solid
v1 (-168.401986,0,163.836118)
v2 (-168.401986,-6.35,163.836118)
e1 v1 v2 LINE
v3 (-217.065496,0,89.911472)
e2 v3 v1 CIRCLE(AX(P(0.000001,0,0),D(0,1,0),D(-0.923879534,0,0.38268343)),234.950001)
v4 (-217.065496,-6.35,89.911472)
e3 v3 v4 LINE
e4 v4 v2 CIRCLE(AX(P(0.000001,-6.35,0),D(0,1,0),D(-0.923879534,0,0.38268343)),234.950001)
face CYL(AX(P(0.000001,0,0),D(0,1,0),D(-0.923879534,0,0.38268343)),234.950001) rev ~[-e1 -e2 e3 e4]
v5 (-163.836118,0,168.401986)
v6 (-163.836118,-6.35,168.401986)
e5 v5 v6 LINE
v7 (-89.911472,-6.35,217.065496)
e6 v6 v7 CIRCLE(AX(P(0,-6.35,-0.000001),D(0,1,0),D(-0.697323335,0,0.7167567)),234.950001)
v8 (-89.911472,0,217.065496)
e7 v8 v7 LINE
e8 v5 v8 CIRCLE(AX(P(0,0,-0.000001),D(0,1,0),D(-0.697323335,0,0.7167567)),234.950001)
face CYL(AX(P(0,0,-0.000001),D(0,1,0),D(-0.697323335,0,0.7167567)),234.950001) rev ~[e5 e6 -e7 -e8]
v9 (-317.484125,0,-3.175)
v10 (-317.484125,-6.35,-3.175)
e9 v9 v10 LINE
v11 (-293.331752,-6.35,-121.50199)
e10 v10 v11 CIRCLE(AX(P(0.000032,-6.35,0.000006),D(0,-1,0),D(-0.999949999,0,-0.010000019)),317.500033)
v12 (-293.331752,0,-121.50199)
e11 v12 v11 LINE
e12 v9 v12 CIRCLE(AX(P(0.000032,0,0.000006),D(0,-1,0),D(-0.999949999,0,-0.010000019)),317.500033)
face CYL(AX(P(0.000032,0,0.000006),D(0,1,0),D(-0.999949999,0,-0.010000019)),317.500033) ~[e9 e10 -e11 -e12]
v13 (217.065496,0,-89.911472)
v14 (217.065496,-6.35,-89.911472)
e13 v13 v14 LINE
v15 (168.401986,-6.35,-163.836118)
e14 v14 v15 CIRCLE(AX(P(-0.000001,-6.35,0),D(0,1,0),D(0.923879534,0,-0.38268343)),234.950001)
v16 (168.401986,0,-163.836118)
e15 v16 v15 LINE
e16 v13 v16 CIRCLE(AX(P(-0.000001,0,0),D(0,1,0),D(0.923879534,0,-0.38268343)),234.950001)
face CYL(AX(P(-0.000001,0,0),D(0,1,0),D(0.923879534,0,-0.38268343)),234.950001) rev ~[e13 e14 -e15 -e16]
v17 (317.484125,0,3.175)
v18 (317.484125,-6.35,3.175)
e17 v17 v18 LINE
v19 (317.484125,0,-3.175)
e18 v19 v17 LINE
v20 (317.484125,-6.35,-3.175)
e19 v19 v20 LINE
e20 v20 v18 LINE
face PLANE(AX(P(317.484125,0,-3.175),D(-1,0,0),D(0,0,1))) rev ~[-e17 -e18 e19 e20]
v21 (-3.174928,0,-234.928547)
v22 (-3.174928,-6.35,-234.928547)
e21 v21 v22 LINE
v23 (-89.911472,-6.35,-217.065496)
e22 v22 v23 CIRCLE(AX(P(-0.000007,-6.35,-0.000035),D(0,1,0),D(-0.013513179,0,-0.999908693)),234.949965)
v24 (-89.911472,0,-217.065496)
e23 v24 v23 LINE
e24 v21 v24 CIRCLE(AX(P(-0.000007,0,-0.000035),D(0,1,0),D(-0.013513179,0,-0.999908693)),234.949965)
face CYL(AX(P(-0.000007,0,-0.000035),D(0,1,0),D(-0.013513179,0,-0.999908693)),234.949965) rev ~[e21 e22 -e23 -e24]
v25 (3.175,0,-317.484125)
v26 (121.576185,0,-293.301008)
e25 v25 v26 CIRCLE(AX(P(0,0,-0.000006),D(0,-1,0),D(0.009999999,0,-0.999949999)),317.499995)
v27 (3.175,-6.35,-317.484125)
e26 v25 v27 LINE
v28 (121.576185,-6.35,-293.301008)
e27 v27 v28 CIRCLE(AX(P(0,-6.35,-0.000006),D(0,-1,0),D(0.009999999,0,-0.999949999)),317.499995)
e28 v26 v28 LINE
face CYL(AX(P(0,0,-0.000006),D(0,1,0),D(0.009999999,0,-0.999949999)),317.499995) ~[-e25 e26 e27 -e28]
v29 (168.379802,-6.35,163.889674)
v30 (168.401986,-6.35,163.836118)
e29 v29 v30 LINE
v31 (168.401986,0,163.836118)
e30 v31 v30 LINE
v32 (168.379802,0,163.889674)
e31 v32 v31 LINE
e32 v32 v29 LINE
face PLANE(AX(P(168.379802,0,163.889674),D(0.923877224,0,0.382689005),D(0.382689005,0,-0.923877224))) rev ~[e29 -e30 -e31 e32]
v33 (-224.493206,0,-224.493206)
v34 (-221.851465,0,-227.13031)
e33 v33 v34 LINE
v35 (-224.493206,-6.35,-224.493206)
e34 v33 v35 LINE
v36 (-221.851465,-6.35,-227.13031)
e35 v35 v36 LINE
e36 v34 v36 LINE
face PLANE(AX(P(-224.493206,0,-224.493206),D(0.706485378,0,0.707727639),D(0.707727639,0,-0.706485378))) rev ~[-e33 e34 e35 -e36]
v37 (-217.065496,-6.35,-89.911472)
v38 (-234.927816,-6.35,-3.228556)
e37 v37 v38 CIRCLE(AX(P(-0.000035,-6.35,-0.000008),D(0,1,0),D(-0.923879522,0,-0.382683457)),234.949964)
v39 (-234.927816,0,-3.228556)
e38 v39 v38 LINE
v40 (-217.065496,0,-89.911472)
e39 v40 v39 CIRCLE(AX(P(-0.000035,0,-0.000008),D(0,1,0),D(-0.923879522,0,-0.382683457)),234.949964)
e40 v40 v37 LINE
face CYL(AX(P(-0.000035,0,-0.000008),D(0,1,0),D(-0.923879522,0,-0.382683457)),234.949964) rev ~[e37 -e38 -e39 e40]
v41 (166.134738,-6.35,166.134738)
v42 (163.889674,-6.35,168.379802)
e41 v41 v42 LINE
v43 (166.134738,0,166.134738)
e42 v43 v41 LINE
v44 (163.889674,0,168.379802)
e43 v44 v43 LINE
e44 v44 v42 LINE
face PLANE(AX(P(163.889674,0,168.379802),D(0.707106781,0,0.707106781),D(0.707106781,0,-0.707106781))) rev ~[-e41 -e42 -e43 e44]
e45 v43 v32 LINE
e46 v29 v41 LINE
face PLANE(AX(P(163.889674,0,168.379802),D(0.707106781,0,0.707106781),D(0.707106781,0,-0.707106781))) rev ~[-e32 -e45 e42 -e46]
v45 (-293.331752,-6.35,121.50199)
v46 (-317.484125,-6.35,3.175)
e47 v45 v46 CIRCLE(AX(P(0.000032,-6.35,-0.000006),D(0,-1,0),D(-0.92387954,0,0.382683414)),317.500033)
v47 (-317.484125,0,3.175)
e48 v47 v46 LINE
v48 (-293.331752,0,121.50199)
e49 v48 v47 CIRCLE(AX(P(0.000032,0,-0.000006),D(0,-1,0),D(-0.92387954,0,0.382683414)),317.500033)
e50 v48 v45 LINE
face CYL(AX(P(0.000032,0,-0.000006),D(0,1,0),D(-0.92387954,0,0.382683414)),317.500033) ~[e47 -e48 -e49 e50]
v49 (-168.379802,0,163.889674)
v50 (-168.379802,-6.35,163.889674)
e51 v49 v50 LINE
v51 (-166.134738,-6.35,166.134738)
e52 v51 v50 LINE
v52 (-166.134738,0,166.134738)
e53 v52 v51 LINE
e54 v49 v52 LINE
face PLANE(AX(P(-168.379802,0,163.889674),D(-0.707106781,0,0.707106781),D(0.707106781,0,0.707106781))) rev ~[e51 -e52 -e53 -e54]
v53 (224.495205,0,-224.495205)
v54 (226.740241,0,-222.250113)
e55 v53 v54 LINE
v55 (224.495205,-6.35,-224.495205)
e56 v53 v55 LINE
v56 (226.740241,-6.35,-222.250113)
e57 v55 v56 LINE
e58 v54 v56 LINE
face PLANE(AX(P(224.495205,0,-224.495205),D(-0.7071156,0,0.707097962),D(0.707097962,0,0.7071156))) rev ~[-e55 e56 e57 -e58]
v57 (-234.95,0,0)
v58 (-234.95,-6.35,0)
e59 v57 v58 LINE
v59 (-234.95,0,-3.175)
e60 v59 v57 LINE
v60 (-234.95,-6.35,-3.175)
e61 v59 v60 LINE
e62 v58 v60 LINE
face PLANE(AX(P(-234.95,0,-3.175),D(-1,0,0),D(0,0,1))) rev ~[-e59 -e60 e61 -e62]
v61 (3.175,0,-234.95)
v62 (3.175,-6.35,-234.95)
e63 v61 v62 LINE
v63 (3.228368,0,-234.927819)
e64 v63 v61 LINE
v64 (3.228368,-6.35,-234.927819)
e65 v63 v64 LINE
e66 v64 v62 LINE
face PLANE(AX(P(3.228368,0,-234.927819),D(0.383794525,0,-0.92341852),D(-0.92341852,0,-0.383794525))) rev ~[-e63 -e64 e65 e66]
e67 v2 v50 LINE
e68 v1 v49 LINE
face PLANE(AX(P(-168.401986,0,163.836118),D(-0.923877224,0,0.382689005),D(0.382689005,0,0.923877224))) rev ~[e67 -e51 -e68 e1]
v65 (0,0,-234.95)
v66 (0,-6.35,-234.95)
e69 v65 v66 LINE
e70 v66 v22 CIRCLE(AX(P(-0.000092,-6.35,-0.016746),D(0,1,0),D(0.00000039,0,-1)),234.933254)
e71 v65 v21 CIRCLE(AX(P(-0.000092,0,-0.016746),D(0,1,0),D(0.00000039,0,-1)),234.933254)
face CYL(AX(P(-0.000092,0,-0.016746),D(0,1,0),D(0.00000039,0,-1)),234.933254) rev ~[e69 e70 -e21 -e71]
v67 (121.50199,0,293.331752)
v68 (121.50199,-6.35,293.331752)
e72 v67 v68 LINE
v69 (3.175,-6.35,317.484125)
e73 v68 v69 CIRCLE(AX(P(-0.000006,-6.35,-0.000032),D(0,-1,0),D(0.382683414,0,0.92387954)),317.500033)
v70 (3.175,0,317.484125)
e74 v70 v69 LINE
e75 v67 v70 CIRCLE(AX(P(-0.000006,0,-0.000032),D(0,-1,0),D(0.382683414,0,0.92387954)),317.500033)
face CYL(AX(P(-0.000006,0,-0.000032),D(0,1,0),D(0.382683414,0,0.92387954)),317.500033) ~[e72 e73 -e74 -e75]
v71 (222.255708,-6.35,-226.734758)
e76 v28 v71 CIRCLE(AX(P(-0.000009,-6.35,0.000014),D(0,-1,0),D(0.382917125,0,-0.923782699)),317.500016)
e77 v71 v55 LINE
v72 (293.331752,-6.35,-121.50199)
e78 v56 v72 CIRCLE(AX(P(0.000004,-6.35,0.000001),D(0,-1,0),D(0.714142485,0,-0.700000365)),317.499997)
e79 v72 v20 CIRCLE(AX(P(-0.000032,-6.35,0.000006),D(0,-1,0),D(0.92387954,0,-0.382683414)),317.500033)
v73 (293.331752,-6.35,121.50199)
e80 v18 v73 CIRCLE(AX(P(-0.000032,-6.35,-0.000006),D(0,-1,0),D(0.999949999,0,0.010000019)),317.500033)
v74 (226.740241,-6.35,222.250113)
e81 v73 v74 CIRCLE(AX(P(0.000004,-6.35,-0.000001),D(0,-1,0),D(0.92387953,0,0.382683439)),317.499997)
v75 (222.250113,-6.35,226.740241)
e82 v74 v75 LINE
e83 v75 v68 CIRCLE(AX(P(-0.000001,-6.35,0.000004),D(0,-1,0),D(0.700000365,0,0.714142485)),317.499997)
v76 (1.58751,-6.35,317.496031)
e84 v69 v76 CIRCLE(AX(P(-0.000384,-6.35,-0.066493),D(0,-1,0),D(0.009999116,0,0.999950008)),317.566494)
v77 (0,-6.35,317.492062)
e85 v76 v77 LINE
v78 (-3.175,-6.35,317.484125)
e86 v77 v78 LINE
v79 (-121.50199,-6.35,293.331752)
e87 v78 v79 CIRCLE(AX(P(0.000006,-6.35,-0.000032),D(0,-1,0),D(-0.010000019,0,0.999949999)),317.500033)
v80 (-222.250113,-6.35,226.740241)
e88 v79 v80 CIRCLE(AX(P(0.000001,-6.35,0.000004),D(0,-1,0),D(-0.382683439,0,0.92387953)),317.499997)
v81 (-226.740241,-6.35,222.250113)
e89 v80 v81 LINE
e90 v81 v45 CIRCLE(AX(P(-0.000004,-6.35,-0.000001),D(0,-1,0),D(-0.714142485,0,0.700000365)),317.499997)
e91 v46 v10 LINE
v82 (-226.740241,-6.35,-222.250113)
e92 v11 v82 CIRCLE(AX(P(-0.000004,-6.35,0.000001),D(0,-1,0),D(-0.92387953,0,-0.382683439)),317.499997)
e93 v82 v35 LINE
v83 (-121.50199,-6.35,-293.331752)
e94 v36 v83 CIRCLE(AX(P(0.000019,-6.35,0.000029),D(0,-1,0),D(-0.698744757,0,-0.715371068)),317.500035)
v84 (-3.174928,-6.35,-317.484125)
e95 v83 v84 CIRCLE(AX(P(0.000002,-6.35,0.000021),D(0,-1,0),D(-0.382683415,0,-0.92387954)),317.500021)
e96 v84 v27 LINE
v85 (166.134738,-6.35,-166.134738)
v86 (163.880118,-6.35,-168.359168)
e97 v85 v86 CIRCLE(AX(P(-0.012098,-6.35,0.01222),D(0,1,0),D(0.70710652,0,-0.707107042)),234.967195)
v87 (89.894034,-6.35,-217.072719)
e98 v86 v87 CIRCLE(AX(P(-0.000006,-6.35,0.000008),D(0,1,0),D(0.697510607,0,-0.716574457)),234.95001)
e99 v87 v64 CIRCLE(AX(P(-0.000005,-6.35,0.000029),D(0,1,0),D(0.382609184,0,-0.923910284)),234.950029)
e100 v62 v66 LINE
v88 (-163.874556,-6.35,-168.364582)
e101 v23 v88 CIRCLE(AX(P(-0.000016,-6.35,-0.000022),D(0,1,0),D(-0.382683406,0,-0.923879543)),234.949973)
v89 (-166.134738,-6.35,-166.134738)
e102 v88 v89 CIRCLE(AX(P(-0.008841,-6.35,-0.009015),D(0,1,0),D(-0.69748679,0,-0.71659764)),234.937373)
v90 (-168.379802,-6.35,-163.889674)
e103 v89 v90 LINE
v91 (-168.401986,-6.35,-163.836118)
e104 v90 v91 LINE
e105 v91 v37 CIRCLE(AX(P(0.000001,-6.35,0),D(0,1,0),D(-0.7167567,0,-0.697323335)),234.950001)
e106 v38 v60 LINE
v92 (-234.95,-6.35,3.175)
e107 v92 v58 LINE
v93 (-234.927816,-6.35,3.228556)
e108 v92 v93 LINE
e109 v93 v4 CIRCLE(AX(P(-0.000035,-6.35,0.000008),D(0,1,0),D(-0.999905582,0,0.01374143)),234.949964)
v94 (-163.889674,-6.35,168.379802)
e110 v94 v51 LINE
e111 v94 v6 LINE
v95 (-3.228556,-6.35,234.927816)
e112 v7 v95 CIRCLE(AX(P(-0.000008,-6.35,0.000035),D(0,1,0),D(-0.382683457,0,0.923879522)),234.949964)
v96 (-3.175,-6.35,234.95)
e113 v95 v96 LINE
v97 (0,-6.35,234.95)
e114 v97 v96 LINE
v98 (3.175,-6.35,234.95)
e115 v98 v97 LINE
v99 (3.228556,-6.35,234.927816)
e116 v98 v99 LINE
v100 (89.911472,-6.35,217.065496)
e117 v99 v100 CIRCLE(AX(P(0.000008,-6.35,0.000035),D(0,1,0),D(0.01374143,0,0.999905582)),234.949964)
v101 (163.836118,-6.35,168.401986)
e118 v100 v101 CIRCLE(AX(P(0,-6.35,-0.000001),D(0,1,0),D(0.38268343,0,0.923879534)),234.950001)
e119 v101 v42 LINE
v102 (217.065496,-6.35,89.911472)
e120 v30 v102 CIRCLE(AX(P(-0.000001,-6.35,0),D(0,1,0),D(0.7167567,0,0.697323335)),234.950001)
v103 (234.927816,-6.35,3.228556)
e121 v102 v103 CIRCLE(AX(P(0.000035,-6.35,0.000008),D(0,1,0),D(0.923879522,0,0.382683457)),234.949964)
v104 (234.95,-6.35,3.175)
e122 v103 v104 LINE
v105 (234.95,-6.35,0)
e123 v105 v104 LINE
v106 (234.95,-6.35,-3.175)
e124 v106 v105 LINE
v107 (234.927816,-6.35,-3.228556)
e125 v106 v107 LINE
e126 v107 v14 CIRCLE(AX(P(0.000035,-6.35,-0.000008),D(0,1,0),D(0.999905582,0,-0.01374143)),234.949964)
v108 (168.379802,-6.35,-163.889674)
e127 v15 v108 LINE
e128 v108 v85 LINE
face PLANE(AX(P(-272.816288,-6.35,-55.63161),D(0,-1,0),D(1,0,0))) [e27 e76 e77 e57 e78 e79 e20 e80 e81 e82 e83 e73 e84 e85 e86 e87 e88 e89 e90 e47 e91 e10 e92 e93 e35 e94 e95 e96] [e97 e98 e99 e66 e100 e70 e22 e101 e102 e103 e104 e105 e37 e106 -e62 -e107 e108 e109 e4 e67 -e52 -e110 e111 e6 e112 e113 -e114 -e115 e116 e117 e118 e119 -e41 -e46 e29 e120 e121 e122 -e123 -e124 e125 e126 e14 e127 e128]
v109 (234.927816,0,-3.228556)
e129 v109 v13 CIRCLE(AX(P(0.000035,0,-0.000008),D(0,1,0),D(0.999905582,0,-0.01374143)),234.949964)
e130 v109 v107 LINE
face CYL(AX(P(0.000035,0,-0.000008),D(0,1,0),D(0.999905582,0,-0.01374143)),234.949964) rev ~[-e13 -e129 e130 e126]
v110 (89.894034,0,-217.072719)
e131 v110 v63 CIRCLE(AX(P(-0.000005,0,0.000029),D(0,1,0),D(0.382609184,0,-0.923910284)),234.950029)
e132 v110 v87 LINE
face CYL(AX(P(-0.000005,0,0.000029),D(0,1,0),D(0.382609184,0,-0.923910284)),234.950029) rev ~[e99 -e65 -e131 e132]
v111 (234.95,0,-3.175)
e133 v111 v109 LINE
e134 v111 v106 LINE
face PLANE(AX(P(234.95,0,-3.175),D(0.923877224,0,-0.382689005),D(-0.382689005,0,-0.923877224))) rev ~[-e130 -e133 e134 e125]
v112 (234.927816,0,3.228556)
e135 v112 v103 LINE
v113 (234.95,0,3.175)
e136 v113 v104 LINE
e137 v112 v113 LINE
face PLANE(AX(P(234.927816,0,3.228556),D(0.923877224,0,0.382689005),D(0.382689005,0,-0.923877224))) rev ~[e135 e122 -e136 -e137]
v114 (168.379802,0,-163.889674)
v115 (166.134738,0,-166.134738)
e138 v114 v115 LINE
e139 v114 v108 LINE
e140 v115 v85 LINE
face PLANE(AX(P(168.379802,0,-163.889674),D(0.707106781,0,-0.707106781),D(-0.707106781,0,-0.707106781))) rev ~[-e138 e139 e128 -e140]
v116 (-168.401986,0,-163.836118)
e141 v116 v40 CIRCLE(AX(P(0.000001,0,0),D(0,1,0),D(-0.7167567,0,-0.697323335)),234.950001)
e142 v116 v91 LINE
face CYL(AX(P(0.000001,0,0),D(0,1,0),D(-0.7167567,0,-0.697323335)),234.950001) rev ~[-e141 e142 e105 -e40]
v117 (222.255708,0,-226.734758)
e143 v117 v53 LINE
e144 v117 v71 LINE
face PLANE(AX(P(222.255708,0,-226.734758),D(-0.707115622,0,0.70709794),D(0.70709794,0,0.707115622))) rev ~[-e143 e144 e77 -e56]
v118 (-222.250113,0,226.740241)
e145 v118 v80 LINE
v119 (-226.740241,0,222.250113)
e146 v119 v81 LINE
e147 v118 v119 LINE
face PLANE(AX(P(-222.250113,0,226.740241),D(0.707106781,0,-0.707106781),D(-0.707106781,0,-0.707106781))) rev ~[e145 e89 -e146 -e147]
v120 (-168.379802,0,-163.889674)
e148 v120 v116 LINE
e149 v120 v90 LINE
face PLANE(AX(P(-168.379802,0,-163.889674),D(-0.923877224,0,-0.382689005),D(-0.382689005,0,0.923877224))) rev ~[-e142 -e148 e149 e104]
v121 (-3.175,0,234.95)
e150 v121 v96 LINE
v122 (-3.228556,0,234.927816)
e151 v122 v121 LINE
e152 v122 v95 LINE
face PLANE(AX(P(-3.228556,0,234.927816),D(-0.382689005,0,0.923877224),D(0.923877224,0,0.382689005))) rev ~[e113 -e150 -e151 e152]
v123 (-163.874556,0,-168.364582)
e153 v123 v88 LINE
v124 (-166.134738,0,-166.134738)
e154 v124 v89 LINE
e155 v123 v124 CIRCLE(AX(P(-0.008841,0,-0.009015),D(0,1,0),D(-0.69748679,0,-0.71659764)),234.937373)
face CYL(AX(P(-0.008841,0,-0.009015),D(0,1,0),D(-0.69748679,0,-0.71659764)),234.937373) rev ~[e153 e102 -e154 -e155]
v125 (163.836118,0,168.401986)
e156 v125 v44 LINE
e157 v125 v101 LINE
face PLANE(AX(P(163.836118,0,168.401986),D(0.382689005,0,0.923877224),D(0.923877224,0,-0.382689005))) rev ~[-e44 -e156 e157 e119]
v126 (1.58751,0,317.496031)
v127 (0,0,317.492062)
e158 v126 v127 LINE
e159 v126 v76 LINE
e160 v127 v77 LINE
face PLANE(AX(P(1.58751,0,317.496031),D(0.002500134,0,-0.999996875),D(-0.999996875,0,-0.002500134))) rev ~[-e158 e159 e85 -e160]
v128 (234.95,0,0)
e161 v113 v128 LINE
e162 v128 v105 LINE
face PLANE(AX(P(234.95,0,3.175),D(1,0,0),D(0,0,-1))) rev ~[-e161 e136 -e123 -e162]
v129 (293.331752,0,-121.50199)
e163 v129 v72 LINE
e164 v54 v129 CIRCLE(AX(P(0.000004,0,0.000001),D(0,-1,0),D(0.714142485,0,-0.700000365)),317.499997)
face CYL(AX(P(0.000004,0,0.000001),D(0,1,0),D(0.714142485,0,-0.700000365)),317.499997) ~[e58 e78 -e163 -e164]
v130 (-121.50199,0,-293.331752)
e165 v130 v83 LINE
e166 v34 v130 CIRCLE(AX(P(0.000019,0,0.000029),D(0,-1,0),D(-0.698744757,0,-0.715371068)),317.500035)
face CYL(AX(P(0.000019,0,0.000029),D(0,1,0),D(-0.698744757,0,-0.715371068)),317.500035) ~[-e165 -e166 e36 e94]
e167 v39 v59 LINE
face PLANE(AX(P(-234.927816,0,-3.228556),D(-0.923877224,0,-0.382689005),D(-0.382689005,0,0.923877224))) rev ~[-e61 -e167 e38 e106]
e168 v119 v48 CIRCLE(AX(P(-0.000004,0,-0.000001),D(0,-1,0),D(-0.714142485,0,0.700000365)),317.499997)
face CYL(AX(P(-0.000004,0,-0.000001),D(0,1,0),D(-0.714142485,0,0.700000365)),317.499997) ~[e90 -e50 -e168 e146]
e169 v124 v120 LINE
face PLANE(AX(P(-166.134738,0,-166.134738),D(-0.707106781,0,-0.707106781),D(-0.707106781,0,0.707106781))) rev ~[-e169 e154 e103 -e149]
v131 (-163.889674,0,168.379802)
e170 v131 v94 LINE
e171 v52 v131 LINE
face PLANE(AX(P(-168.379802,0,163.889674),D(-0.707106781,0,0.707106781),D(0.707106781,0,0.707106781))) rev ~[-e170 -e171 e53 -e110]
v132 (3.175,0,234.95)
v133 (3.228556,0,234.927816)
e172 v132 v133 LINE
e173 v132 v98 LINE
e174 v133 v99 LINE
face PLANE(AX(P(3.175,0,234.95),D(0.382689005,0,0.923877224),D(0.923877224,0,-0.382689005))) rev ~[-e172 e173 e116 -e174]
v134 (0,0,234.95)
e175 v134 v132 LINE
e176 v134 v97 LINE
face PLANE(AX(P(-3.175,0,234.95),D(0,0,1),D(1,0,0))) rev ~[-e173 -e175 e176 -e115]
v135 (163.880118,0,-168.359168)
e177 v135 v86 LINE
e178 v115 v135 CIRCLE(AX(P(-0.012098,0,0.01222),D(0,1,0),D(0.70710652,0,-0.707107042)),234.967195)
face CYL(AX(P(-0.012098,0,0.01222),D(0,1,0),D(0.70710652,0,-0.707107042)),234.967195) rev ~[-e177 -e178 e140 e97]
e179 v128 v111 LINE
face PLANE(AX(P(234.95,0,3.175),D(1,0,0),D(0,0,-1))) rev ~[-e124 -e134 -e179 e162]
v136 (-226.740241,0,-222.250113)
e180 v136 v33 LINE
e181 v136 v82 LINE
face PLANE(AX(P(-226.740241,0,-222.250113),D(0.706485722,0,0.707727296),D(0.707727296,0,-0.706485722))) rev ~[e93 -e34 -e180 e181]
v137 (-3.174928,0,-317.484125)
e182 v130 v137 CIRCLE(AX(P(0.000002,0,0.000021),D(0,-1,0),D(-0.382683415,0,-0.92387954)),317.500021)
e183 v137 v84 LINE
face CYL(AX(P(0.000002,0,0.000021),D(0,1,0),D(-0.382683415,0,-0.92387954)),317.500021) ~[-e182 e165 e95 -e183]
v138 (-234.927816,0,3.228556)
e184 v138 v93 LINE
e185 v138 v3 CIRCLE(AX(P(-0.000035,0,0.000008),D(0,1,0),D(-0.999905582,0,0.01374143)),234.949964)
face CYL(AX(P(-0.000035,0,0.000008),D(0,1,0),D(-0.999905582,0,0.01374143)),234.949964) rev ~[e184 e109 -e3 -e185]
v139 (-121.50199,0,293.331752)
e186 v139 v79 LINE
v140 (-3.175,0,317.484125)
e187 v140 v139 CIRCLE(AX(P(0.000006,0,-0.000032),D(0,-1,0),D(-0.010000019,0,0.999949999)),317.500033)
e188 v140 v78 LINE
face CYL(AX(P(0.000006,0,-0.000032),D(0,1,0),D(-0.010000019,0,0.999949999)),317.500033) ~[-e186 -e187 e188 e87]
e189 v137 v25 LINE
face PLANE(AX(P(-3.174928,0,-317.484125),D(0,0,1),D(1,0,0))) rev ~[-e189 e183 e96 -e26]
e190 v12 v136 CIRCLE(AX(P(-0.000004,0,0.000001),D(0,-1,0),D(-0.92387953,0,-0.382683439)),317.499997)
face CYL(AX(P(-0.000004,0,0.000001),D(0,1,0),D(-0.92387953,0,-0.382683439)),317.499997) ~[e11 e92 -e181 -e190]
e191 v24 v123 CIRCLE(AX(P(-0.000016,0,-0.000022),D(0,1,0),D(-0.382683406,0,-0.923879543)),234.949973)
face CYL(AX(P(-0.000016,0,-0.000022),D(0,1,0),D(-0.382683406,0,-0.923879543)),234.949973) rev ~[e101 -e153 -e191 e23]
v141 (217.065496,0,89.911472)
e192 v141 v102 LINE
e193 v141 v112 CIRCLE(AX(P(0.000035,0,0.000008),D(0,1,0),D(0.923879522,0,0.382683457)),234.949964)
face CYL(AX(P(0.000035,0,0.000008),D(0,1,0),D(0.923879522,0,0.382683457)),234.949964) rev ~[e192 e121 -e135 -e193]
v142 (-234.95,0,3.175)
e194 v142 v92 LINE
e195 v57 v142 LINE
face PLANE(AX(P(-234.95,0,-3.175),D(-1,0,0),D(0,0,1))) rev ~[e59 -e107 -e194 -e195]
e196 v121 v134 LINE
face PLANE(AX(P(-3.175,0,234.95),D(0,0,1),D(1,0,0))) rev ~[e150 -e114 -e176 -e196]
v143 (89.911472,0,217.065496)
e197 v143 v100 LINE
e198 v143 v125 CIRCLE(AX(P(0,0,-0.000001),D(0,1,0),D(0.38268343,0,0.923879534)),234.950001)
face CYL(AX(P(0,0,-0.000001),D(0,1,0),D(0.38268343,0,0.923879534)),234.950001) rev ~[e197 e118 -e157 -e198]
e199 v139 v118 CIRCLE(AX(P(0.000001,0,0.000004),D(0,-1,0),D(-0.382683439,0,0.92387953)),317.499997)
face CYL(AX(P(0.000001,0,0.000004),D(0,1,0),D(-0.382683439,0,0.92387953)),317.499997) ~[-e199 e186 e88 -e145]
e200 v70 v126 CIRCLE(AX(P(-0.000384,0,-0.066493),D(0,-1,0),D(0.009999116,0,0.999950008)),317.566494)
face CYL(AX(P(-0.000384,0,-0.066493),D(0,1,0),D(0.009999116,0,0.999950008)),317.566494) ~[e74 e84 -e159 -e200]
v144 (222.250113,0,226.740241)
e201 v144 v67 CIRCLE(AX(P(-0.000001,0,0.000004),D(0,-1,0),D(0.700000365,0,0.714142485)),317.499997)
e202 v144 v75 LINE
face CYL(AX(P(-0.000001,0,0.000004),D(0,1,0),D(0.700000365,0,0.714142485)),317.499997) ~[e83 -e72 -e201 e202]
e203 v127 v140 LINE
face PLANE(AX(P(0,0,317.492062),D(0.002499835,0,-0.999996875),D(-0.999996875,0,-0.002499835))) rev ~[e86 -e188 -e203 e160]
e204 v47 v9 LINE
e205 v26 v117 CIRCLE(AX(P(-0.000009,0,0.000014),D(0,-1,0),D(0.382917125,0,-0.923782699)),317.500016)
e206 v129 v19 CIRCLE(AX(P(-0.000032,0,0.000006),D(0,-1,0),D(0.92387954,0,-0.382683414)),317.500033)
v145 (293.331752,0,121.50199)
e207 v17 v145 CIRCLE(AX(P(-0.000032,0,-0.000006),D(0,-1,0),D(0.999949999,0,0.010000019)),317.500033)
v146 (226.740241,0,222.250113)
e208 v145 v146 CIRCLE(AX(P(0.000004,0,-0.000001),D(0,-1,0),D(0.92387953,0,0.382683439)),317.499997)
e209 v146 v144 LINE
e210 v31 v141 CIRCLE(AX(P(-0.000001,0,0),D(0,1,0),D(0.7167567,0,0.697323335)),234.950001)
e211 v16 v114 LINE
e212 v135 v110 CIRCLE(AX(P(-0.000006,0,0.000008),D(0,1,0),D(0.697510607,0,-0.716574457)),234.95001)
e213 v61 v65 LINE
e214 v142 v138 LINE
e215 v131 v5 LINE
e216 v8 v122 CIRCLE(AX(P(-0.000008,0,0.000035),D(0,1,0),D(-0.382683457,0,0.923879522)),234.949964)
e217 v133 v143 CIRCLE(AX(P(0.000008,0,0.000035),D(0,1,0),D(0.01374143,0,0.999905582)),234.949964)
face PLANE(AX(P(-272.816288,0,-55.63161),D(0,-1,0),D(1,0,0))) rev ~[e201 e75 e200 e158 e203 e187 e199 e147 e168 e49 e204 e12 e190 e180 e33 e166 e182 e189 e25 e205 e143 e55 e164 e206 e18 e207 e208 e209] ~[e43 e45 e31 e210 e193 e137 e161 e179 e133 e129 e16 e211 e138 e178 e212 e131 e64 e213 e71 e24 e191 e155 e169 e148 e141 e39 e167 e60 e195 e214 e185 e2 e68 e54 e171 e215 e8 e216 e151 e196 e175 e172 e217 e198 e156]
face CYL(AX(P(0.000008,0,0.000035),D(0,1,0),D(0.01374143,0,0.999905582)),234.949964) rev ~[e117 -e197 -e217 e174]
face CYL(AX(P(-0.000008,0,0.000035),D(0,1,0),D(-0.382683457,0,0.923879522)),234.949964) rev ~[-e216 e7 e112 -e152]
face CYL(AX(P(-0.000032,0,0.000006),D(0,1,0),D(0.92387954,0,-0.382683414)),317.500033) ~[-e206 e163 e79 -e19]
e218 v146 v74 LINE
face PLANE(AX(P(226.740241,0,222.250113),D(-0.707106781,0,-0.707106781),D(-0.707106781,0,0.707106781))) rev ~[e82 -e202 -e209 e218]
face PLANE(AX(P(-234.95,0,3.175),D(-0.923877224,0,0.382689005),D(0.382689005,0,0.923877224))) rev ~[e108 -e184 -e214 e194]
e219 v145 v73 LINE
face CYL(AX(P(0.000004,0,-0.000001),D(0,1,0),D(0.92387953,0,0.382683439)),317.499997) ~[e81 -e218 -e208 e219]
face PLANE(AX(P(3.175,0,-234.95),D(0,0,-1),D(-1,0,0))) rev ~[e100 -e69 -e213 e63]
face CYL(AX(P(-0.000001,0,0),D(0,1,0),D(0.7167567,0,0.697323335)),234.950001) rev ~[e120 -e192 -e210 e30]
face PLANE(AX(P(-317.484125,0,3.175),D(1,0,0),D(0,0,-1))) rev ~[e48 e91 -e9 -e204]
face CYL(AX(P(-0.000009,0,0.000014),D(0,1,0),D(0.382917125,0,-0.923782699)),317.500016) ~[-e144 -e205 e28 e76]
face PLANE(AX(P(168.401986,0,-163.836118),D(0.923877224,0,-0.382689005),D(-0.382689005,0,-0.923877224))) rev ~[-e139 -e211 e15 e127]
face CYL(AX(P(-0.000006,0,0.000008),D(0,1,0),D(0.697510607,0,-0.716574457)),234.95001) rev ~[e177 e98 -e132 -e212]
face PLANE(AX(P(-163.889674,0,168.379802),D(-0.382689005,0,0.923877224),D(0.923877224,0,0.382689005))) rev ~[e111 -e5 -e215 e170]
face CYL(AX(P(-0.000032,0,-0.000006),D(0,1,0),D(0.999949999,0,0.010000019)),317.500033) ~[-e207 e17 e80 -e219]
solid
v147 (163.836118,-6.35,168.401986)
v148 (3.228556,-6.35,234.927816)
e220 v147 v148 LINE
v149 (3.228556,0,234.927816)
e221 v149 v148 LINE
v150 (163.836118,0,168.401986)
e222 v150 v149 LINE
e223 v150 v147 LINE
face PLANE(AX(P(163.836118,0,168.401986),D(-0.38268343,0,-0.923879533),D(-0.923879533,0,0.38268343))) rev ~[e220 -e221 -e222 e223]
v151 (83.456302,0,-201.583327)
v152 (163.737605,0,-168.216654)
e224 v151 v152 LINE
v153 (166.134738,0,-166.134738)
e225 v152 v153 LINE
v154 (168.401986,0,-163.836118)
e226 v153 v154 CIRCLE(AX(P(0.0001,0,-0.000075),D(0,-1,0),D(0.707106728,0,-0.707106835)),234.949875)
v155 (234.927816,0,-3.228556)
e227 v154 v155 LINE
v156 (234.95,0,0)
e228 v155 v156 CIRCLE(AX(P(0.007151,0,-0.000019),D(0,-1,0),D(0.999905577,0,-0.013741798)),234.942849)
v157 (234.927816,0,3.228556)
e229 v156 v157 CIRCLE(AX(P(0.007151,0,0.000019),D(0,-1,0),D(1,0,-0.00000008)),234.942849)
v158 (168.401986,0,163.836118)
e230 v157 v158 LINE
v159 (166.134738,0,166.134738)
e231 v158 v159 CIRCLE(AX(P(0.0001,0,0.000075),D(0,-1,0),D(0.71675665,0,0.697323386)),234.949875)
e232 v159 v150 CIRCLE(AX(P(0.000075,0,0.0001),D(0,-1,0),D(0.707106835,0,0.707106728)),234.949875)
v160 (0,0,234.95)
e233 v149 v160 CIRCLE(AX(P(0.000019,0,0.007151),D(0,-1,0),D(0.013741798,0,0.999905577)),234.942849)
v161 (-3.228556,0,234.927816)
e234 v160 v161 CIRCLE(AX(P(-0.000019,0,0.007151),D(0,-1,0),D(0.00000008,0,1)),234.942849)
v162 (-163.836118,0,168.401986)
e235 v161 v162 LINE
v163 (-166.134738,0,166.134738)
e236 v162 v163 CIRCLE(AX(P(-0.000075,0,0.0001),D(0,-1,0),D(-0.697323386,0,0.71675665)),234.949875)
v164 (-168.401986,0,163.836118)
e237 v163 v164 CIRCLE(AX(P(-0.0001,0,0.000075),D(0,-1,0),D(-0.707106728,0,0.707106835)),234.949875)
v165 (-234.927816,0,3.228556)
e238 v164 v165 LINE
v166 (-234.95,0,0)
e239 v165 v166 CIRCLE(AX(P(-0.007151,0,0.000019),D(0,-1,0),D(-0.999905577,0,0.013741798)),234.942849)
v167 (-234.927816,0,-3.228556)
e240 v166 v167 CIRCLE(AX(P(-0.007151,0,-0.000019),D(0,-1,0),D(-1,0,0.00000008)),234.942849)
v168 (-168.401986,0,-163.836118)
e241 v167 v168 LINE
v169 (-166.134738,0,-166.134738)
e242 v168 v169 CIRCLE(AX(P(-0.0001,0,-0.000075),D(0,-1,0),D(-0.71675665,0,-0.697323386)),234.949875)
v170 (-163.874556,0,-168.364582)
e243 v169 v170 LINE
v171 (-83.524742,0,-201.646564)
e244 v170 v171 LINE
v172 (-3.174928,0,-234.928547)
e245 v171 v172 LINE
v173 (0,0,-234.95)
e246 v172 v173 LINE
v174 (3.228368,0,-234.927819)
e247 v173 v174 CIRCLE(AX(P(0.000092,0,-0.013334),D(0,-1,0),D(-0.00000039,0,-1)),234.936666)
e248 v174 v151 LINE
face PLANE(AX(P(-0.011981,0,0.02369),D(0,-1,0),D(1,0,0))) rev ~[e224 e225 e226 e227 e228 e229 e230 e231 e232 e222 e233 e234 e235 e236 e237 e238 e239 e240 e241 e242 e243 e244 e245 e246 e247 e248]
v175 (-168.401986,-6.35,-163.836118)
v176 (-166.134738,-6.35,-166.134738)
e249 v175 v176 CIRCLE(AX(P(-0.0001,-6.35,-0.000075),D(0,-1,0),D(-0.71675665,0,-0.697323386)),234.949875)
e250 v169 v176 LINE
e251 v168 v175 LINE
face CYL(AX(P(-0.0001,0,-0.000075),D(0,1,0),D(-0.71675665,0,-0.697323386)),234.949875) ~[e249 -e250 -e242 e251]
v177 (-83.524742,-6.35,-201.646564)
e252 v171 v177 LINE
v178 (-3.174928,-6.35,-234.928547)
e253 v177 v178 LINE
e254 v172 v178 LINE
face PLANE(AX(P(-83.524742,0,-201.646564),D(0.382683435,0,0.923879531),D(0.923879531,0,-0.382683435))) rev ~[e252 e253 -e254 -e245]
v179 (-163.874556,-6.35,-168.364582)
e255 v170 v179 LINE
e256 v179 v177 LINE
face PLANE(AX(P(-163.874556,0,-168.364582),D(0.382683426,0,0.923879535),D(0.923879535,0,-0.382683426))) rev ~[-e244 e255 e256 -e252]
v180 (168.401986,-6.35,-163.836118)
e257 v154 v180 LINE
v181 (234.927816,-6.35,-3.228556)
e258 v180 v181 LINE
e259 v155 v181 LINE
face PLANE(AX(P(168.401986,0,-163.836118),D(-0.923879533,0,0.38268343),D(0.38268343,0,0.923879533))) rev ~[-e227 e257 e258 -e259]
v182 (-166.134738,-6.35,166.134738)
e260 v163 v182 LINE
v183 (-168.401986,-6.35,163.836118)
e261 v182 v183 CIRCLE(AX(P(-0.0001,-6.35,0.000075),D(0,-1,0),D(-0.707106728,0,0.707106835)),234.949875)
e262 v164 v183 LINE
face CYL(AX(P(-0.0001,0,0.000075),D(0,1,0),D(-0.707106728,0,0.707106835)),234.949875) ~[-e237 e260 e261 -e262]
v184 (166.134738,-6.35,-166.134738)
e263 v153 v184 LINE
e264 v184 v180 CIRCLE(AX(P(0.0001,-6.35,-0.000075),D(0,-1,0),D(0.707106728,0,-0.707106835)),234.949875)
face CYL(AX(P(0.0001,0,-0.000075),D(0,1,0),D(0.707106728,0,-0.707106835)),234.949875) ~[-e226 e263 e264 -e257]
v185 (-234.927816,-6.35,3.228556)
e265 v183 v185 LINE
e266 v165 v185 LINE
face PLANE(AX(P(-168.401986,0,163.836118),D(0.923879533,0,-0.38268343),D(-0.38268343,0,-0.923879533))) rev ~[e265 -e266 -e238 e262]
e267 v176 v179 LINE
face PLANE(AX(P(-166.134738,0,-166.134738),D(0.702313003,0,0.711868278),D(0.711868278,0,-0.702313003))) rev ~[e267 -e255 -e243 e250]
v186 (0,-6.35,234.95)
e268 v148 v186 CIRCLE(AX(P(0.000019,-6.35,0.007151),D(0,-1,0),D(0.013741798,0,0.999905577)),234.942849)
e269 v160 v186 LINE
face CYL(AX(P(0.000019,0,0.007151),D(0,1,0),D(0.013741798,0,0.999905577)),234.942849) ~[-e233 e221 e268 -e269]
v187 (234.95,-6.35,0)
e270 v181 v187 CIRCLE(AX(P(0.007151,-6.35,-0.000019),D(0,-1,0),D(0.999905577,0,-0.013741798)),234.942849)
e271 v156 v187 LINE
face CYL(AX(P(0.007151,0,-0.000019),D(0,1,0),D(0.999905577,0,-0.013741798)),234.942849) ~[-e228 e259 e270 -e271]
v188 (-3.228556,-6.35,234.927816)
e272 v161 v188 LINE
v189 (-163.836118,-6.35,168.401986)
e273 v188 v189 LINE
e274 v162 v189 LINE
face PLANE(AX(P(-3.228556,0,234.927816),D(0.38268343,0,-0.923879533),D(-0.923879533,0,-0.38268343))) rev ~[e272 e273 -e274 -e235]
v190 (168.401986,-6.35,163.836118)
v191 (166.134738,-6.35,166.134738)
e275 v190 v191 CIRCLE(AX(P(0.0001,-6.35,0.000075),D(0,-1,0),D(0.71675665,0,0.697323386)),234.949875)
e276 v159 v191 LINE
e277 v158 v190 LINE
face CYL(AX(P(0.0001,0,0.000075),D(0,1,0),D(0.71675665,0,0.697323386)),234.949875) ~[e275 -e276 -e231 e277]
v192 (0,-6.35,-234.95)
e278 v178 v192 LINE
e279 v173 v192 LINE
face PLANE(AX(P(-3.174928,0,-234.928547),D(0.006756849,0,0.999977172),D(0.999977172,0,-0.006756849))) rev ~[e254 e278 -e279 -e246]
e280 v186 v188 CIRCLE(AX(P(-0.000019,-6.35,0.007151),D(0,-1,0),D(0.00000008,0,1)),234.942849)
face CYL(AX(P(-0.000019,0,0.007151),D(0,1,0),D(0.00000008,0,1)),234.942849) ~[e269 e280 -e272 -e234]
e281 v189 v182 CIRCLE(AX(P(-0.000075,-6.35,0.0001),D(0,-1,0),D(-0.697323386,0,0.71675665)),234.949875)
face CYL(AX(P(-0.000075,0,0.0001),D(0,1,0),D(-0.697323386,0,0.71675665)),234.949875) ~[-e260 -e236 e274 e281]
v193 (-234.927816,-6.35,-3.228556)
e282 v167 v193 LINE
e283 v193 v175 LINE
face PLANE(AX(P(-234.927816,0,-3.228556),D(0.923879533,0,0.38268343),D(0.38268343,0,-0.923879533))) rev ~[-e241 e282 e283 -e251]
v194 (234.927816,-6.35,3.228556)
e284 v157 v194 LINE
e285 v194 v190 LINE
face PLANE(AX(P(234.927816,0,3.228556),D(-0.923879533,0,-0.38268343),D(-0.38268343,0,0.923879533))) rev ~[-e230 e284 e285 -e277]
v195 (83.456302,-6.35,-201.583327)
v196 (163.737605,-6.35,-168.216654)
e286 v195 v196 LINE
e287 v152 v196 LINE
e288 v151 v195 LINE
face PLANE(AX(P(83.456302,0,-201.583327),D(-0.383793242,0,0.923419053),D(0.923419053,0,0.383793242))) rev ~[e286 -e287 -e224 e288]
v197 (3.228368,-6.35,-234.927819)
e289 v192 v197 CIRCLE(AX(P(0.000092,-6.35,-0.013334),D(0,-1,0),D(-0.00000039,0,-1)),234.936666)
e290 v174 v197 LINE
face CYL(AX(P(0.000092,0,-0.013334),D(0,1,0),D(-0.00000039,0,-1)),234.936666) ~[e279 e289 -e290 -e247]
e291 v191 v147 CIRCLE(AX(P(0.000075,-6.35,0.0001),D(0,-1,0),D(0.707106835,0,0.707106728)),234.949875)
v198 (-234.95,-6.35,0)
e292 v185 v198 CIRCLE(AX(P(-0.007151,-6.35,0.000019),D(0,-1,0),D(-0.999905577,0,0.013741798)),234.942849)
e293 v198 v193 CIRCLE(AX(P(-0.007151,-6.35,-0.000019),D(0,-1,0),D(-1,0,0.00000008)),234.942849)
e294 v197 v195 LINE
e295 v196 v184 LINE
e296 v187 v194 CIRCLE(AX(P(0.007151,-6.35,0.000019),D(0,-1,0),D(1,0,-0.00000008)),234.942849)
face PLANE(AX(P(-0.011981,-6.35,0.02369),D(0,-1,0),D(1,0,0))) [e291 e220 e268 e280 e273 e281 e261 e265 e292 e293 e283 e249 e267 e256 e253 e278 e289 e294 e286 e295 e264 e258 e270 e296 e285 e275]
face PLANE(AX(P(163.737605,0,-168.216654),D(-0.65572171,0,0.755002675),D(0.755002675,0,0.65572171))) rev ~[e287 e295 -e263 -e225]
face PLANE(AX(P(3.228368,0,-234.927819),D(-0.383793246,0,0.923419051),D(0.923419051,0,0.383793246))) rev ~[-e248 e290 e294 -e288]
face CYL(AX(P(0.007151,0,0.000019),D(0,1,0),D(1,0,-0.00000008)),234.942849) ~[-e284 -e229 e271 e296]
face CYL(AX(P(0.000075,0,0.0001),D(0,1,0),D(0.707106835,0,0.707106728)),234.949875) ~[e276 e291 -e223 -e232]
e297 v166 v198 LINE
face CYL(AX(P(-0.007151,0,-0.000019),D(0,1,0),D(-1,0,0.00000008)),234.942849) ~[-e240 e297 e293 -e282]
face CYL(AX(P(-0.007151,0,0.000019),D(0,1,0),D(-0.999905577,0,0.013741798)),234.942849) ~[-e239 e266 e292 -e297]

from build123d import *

# Parameters (mm, degrees)
F1_DEPTH = 6.35


with BuildPart() as f1:
    # F0 (on Front) → F1 (new body)
    with BuildSketch(Plane.XZ):
        with BuildLine():
            Line((-293.331752, -89.911472), (-217.065496, -89.911472))
            ThreePointArc((-217.065496, -89.911472), (-230.115125, -47.418687), (-234.927816, -3.228556))
            Line((-234.927816, -3.228556), (-234.95, -3.175))
            Line((-234.95, -3.175), (-317.484125, -3.175))
            ThreePointArc((-317.484125, -3.175), (-311.085724, -63.497419), (-293.331752, -121.50199))
            Line((-293.331752, -121.50199), (-293.331752, -89.911472))
        make_face()
        Polygon((-293.331752, -121.50199), (-217.065496, -89.911472), (-293.331752, -89.911472), align=None)
        Polygon((-217.065496, -121.50199), (-217.065496, -89.911472), (-293.331752, -121.50199), align=None)
        with BuildLine():
            Line((-168.379802, -163.889674), (-168.401986, -163.836118))
            ThreePointArc((-168.401986, -163.836118), (-196.24604, -129.18589), (-217.065496, -89.911472))
            Line((-217.065496, -89.911472), (-217.065496, -121.50199))
            Line((-217.065496, -121.50199), (-293.331752, -121.50199))
            ThreePointArc((-293.331752, -121.50199), (-264.870281, -175.071369), (-226.740241, -222.250113))
            Line((-226.740241, -222.250113), (-168.379802, -163.889674))
        make_face()
        with BuildLine():
            ThreePointArc((-163.874556, -168.364582), (-165.008414, -167.253478), (-166.134738, -166.134738))
            Line((-166.134738, -166.134738), (-168.379802, -163.889674))
            Line((-168.379802, -163.889674), (-226.740241, -222.250113))
            Line((-226.740241, -222.250113), (-224.493206, -224.493206))
            Line((-224.493206, -224.493206), (-221.851465, -227.13031))
            Line((-221.851465, -227.13031), (-163.874556, -168.364582))
        make_face()
        with BuildLine():
            ThreePointArc((-89.911472, -217.065496), (-129.208289, -196.231294), (-163.874556, -168.364582))
            Line((-163.874556, -168.364582), (-221.851465, -227.13031))
            ThreePointArc((-221.851465, -227.13031), (-174.838658, -265.023949), (-121.50199, -293.331752))
            Line((-121.50199, -293.331752), (-121.50199, -217.065496))
            Line((-121.50199, -217.065496), (-89.911472, -217.065496))
        make_face()
        Polygon((-121.50199, -293.331752), (-89.911472, -217.065496), (-121.50199, -217.065496), align=None)
        Polygon((-89.911472, -293.331752), (-89.911472, -217.065496), (-121.50199, -293.331752), align=None)
        with BuildLine():
            ThreePointArc((-3.174928, -234.928547), (-47.392421, -230.120536), (-89.911472, -217.065496))
            Line((-89.911472, -217.065496), (-89.911472, -293.331752))
            Line((-89.911472, -293.331752), (-121.50199, -293.331752))
            ThreePointArc((-121.50199, -293.331752), (-63.497384, -311.085731), (-3.174928, -317.484125))
            Line((-3.174928, -317.484125), (-3.174928, -234.928547))
        make_face()
        with BuildLine():
            ThreePointArc((0, -234.95), (-1.5875, -234.944637), (-3.174928, -234.928547))
            Line((-3.174928, -234.928547), (-3.174928, -317.484125))
            Line((-3.174928, -317.484125), (0, -317.484125))
            Line((0, -317.484125), (3.175, -317.484125))
            Line((3.175, -317.484125), (3.175, -234.95))
            Line((3.175, -234.95), (0, -234.95))
        make_face()
        with BuildLine():
            ThreePointArc((89.894034, -217.072719), (47.409351, -230.117048), (3.228368, -234.927819))
            Line((3.228368, -234.927819), (3.175, -234.95))
            Line((3.175, -234.95), (3.175, -317.484125))
            ThreePointArc((3.175, -317.484125), (63.536764, -311.077691), (121.576185, -293.301008))
            Line((121.576185, -293.301008), (89.894034, -293.301008))
            Line((89.894034, -293.301008), (89.894034, -217.072719))
        make_face()
        Polygon((121.576185, -293.301008), (89.894034, -217.072719), (89.894034, -293.301008), align=None)
        Polygon((121.576185, -217.072719), (89.894034, -217.072719), (121.576185, -293.301008), align=None)
        with BuildLine():
            ThreePointArc((163.880118, -168.359168), (129.203647, -196.23435), (89.894034, -217.072719))
            Line((89.894034, -217.072719), (121.576185, -217.072719))
            Line((121.576185, -217.072719), (121.576185, -293.301008))
            ThreePointArc((121.576185, -293.301008), (175.108135, -264.845976), (222.255708, -226.734758))
            Line((222.255708, -226.734758), (163.880118, -168.359168))
        make_face()
        with BuildLine():
            ThreePointArc((166.134738, -166.134738), (165.011176, -167.250752), (163.880118, -168.359168))
            Line((163.880118, -168.359168), (222.255708, -226.734758))
            Line((222.255708, -226.734758), (224.495205, -224.495205))
            Line((224.495205, -224.495205), (226.740241, -222.250113))
            Line((226.740241, -222.250113), (168.379802, -163.889674))
            Line((168.379802, -163.889674), (166.134738, -166.134738))
        make_face()
        with BuildLine():
            ThreePointArc((217.065496, -89.911472), (196.24604, -129.18589), (168.401986, -163.836118))
            Line((168.401986, -163.836118), (168.379802, -163.889674))
            Line((168.379802, -163.889674), (226.740241, -222.250113))
            ThreePointArc((226.740241, -222.250113), (264.870281, -175.071369), (293.331752, -121.50199))
            Line((293.331752, -121.50199), (217.065496, -121.50199))
            Line((217.065496, -121.50199), (217.065496, -89.911472))
        make_face()
        Polygon((293.331752, -121.50199), (217.065496, -89.911472), (217.065496, -121.50199), align=None)
        Polygon((293.331752, -89.911472), (217.065496, -89.911472), (293.331752, -121.50199), align=None)
        with BuildLine():
            ThreePointArc((234.927816, -3.228556), (230.115125, -47.418687), (217.065496, -89.911472))
            Line((217.065496, -89.911472), (293.331752, -89.911472))
            Line((293.331752, -89.911472), (293.331752, -121.50199))
            ThreePointArc((293.331752, -121.50199), (311.085724, -63.497419), (317.484125, -3.175))
            Line((317.484125, -3.175), (234.95, -3.175))
            Line((234.95, -3.175), (234.927816, -3.228556))
        make_face()
        with BuildLine():
            ThreePointArc((217.065496, 89.911472), (230.115125, 47.418687), (234.927816, 3.228556))
            Line((234.927816, 3.228556), (234.95, 3.175))
            Line((234.95, 3.175), (317.484125, 3.175))
            ThreePointArc((317.484125, 3.175), (311.085724, 63.497419), (293.331752, 121.50199))
            Line((293.331752, 121.50199), (293.331752, 89.911472))
            Line((293.331752, 89.911472), (217.065496, 89.911472))
        make_face()
        Polygon((293.331752, 121.50199), (217.065496, 89.911472), (293.331752, 89.911472), align=None)
        Polygon((217.065496, 121.50199), (217.065496, 89.911472), (293.331752, 121.50199), align=None)
        with BuildLine():
            ThreePointArc((168.401986, 163.836118), (196.24604, 129.18589), (217.065496, 89.911472))
            Line((217.065496, 89.911472), (217.065496, 121.50199))
            Line((217.065496, 121.50199), (293.331752, 121.50199))
            ThreePointArc((293.331752, 121.50199), (264.870281, 175.071369), (226.740241, 222.250113))
            Line((226.740241, 222.250113), (168.379802, 163.889674))
            Line((168.379802, 163.889674), (168.401986, 163.836118))
        make_face()
        with BuildLine():
            Line((121.50199, 217.065496), (89.911472, 217.065496))
            ThreePointArc((89.911472, 217.065496), (129.18589, 196.24604), (163.836118, 168.401986))
            Line((163.836118, 168.401986), (163.889674, 168.379802))
            Line((163.889674, 168.379802), (222.250113, 226.740241))
            ThreePointArc((222.250113, 226.740241), (175.071369, 264.870281), (121.50199, 293.331752))
            Line((121.50199, 293.331752), (121.50199, 217.065496))
        make_face()
        Polygon((234.95, 3.175), (234.95, 0), (234.95, -3.175), (317.484125, -3.175), (317.484125, 0), (317.484125, 3.175), align=None)
        Polygon((163.889674, 168.379802), (166.134738, 166.134738), (168.379802, 163.889674), (226.740241, 222.250113), (224.495177, 224.495177), (222.250113, 226.740241), align=None)
        Polygon((121.50199, 293.331752), (89.911472, 217.065496), (121.50199, 217.065496), align=None)
        Polygon((89.911472, 293.331752), (89.911472, 217.065496), (121.50199, 293.331752), align=None)
        with BuildLine():
            Line((3.175, 234.95), (3.228556, 234.927816))
            ThreePointArc((3.228556, 234.927816), (47.418687, 230.115125), (89.911472, 217.065496))
            Line((89.911472, 217.065496), (89.911472, 293.331752))
            Line((89.911472, 293.331752), (121.50199, 293.331752))
            ThreePointArc((121.50199, 293.331752), (63.497419, 311.085724), (3.175, 317.484125))
            Line((3.175, 317.484125), (3.175, 234.95))
        make_face()
        with BuildLine():
            Line((-89.911472, 293.331752), (-89.911472, 217.065496))
            ThreePointArc((-89.911472, 217.065496), (-47.418687, 230.115125), (-3.228556, 234.927816))
            Line((-3.228556, 234.927816), (-3.175, 234.95))
            Line((-3.175, 234.95), (-3.175, 317.484125))
            ThreePointArc((-3.175, 317.484125), (-63.497419, 311.085724), (-121.50199, 293.331752))
            Line((-121.50199, 293.331752), (-89.911472, 293.331752))
        make_face()
        with BuildLine():
            Line((-3.175, 234.95), (0, 234.95))
            Line((0, 234.95), (3.175, 234.95))
            Line((3.175, 234.95), (3.175, 317.484125))
            ThreePointArc((3.175, 317.484125), (2.381262, 317.49107), (1.58751, 317.496031))
            Line((1.58751, 317.496031), (0, 317.492062))
            Line((0, 317.492062), (-3.175, 317.484125))
            Line((-3.175, 317.484125), (-3.175, 234.95))
        make_face()
        Polygon((-121.50199, 293.331752), (-89.911472, 217.065496), (-89.911472, 293.331752), align=None)
        Polygon((-121.50199, 217.065496), (-89.911472, 217.065496), (-121.50199, 293.331752), align=None)
        with BuildLine():
            Line((-163.889674, 168.379802), (-163.836118, 168.401986))
            ThreePointArc((-163.836118, 168.401986), (-129.18589, 196.24604), (-89.911472, 217.065496))
            Line((-89.911472, 217.065496), (-121.50199, 217.065496))
            Line((-121.50199, 217.065496), (-121.50199, 293.331752))
            ThreePointArc((-121.50199, 293.331752), (-175.071369, 264.870281), (-222.250113, 226.740241))
            Line((-222.250113, 226.740241), (-163.889674, 168.379802))
        make_face()
        Polygon((-168.379802, 163.889674), (-166.134738, 166.134738), (-163.889674, 168.379802), (-222.250113, 226.740241), (-224.495177, 224.495177), (-226.740241, 222.250113), align=None)
        with BuildLine():
            Line((-217.065496, 121.50199), (-217.065496, 89.911472))
            ThreePointArc((-217.065496, 89.911472), (-196.24604, 129.18589), (-168.401986, 163.836118))
            Line((-168.401986, 163.836118), (-168.379802, 163.889674))
            Line((-168.379802, 163.889674), (-226.740241, 222.250113))
            ThreePointArc((-226.740241, 222.250113), (-264.870281, 175.071369), (-293.331752, 121.50199))
            Line((-293.331752, 121.50199), (-217.065496, 121.50199))
        make_face()
        Polygon((-293.331752, 121.50199), (-217.065496, 89.911472), (-217.065496, 121.50199), align=None)
        Polygon((-293.331752, 89.911472), (-217.065496, 89.911472), (-293.331752, 121.50199), align=None)
        Polygon((-234.95, -3.175), (-234.95, 0), (-234.95, 3.175), (-317.484125, 3.175), (-317.484125, 0), (-317.484125, -3.175), align=None)
        with BuildLine():
            Line((-234.95, 3.175), (-234.927816, 3.228556))
            ThreePointArc((-234.927816, 3.228556), (-230.115125, 47.418687), (-217.065496, 89.911472))
            Line((-217.065496, 89.911472), (-293.331752, 89.911472))
            Line((-293.331752, 89.911472), (-293.331752, 121.50199))
            ThreePointArc((-293.331752, 121.50199), (-311.085724, 63.497419), (-317.484125, 3.175))
            Line((-317.484125, 3.175), (-234.95, 3.175))
        make_face()
        with BuildLine():
            ThreePointArc((-168.401986, -163.836118), (-167.27231, -164.989323), (-166.134738, -166.134738))
            Line((-166.134738, -166.134738), (-163.874556, -168.364582))
            Line((-163.874556, -168.364582), (-83.524742, -201.646564))
            Line((-83.524742, -201.646564), (-3.174928, -234.928547))
            Line((-3.174928, -234.928547), (0, -234.95))
            ThreePointArc((0, -234.95), (1.614222, -234.944455), (3.228368, -234.927819))
            Line((3.228368, -234.927819), (83.456302, -201.583327))
            Line((83.456302, -201.583327), (163.737605, -168.216654))
            Line((163.737605, -168.216654), (166.134738, -166.134738))
            ThreePointArc((166.134738, -166.134738), (167.27231, -164.989323), (168.401986, -163.836118))
            Line((168.401986, -163.836118), (201.664901, -83.532337))
            Line((201.664901, -83.532337), (234.927816, -3.228556))
            ThreePointArc((234.927816, -3.228556), (234.944454, -1.614316), (234.95, 0))
            ThreePointArc((234.95, 0), (234.944454, 1.614316), (234.927816, 3.228556))
            Line((234.927816, 3.228556), (201.664901, 83.532337))
            Line((201.664901, 83.532337), (168.401986, 163.836118))
            ThreePointArc((168.401986, 163.836118), (167.27231, 164.989323), (166.134738, 166.134738))
            ThreePointArc((166.134738, 166.134738), (164.989323, 167.27231), (163.836118, 168.401986))
            Line((163.836118, 168.401986), (83.532337, 201.664901))
            Line((83.532337, 201.664901), (3.228556, 234.927816))
            ThreePointArc((3.228556, 234.927816), (1.614316, 234.944454), (0, 234.95))
            ThreePointArc((0, 234.95), (-1.614316, 234.944454), (-3.228556, 234.927816))
            Line((-3.228556, 234.927816), (-83.532337, 201.664901))
            Line((-83.532337, 201.664901), (-163.836118, 168.401986))
            ThreePointArc((-163.836118, 168.401986), (-164.989323, 167.27231), (-166.134738, 166.134738))
            ThreePointArc((-166.134738, 166.134738), (-167.27231, 164.989323), (-168.401986, 163.836118))
            Line((-168.401986, 163.836118), (-201.664901, 83.532337))
            Line((-201.664901, 83.532337), (-234.927816, 3.228556))
            ThreePointArc((-234.927816, 3.228556), (-234.944454, 1.614316), (-234.95, 0))
            ThreePointArc((-234.95, 0), (-234.944454, -1.614316), (-234.927816, -3.228556))
            Line((-234.927816, -3.228556), (-201.664901, -83.532337))
            Line((-201.664901, -83.532337), (-168.401986, -163.836118))
        make_face()
    extrude(amount=F1_DEPTH)


solid = f1.part
